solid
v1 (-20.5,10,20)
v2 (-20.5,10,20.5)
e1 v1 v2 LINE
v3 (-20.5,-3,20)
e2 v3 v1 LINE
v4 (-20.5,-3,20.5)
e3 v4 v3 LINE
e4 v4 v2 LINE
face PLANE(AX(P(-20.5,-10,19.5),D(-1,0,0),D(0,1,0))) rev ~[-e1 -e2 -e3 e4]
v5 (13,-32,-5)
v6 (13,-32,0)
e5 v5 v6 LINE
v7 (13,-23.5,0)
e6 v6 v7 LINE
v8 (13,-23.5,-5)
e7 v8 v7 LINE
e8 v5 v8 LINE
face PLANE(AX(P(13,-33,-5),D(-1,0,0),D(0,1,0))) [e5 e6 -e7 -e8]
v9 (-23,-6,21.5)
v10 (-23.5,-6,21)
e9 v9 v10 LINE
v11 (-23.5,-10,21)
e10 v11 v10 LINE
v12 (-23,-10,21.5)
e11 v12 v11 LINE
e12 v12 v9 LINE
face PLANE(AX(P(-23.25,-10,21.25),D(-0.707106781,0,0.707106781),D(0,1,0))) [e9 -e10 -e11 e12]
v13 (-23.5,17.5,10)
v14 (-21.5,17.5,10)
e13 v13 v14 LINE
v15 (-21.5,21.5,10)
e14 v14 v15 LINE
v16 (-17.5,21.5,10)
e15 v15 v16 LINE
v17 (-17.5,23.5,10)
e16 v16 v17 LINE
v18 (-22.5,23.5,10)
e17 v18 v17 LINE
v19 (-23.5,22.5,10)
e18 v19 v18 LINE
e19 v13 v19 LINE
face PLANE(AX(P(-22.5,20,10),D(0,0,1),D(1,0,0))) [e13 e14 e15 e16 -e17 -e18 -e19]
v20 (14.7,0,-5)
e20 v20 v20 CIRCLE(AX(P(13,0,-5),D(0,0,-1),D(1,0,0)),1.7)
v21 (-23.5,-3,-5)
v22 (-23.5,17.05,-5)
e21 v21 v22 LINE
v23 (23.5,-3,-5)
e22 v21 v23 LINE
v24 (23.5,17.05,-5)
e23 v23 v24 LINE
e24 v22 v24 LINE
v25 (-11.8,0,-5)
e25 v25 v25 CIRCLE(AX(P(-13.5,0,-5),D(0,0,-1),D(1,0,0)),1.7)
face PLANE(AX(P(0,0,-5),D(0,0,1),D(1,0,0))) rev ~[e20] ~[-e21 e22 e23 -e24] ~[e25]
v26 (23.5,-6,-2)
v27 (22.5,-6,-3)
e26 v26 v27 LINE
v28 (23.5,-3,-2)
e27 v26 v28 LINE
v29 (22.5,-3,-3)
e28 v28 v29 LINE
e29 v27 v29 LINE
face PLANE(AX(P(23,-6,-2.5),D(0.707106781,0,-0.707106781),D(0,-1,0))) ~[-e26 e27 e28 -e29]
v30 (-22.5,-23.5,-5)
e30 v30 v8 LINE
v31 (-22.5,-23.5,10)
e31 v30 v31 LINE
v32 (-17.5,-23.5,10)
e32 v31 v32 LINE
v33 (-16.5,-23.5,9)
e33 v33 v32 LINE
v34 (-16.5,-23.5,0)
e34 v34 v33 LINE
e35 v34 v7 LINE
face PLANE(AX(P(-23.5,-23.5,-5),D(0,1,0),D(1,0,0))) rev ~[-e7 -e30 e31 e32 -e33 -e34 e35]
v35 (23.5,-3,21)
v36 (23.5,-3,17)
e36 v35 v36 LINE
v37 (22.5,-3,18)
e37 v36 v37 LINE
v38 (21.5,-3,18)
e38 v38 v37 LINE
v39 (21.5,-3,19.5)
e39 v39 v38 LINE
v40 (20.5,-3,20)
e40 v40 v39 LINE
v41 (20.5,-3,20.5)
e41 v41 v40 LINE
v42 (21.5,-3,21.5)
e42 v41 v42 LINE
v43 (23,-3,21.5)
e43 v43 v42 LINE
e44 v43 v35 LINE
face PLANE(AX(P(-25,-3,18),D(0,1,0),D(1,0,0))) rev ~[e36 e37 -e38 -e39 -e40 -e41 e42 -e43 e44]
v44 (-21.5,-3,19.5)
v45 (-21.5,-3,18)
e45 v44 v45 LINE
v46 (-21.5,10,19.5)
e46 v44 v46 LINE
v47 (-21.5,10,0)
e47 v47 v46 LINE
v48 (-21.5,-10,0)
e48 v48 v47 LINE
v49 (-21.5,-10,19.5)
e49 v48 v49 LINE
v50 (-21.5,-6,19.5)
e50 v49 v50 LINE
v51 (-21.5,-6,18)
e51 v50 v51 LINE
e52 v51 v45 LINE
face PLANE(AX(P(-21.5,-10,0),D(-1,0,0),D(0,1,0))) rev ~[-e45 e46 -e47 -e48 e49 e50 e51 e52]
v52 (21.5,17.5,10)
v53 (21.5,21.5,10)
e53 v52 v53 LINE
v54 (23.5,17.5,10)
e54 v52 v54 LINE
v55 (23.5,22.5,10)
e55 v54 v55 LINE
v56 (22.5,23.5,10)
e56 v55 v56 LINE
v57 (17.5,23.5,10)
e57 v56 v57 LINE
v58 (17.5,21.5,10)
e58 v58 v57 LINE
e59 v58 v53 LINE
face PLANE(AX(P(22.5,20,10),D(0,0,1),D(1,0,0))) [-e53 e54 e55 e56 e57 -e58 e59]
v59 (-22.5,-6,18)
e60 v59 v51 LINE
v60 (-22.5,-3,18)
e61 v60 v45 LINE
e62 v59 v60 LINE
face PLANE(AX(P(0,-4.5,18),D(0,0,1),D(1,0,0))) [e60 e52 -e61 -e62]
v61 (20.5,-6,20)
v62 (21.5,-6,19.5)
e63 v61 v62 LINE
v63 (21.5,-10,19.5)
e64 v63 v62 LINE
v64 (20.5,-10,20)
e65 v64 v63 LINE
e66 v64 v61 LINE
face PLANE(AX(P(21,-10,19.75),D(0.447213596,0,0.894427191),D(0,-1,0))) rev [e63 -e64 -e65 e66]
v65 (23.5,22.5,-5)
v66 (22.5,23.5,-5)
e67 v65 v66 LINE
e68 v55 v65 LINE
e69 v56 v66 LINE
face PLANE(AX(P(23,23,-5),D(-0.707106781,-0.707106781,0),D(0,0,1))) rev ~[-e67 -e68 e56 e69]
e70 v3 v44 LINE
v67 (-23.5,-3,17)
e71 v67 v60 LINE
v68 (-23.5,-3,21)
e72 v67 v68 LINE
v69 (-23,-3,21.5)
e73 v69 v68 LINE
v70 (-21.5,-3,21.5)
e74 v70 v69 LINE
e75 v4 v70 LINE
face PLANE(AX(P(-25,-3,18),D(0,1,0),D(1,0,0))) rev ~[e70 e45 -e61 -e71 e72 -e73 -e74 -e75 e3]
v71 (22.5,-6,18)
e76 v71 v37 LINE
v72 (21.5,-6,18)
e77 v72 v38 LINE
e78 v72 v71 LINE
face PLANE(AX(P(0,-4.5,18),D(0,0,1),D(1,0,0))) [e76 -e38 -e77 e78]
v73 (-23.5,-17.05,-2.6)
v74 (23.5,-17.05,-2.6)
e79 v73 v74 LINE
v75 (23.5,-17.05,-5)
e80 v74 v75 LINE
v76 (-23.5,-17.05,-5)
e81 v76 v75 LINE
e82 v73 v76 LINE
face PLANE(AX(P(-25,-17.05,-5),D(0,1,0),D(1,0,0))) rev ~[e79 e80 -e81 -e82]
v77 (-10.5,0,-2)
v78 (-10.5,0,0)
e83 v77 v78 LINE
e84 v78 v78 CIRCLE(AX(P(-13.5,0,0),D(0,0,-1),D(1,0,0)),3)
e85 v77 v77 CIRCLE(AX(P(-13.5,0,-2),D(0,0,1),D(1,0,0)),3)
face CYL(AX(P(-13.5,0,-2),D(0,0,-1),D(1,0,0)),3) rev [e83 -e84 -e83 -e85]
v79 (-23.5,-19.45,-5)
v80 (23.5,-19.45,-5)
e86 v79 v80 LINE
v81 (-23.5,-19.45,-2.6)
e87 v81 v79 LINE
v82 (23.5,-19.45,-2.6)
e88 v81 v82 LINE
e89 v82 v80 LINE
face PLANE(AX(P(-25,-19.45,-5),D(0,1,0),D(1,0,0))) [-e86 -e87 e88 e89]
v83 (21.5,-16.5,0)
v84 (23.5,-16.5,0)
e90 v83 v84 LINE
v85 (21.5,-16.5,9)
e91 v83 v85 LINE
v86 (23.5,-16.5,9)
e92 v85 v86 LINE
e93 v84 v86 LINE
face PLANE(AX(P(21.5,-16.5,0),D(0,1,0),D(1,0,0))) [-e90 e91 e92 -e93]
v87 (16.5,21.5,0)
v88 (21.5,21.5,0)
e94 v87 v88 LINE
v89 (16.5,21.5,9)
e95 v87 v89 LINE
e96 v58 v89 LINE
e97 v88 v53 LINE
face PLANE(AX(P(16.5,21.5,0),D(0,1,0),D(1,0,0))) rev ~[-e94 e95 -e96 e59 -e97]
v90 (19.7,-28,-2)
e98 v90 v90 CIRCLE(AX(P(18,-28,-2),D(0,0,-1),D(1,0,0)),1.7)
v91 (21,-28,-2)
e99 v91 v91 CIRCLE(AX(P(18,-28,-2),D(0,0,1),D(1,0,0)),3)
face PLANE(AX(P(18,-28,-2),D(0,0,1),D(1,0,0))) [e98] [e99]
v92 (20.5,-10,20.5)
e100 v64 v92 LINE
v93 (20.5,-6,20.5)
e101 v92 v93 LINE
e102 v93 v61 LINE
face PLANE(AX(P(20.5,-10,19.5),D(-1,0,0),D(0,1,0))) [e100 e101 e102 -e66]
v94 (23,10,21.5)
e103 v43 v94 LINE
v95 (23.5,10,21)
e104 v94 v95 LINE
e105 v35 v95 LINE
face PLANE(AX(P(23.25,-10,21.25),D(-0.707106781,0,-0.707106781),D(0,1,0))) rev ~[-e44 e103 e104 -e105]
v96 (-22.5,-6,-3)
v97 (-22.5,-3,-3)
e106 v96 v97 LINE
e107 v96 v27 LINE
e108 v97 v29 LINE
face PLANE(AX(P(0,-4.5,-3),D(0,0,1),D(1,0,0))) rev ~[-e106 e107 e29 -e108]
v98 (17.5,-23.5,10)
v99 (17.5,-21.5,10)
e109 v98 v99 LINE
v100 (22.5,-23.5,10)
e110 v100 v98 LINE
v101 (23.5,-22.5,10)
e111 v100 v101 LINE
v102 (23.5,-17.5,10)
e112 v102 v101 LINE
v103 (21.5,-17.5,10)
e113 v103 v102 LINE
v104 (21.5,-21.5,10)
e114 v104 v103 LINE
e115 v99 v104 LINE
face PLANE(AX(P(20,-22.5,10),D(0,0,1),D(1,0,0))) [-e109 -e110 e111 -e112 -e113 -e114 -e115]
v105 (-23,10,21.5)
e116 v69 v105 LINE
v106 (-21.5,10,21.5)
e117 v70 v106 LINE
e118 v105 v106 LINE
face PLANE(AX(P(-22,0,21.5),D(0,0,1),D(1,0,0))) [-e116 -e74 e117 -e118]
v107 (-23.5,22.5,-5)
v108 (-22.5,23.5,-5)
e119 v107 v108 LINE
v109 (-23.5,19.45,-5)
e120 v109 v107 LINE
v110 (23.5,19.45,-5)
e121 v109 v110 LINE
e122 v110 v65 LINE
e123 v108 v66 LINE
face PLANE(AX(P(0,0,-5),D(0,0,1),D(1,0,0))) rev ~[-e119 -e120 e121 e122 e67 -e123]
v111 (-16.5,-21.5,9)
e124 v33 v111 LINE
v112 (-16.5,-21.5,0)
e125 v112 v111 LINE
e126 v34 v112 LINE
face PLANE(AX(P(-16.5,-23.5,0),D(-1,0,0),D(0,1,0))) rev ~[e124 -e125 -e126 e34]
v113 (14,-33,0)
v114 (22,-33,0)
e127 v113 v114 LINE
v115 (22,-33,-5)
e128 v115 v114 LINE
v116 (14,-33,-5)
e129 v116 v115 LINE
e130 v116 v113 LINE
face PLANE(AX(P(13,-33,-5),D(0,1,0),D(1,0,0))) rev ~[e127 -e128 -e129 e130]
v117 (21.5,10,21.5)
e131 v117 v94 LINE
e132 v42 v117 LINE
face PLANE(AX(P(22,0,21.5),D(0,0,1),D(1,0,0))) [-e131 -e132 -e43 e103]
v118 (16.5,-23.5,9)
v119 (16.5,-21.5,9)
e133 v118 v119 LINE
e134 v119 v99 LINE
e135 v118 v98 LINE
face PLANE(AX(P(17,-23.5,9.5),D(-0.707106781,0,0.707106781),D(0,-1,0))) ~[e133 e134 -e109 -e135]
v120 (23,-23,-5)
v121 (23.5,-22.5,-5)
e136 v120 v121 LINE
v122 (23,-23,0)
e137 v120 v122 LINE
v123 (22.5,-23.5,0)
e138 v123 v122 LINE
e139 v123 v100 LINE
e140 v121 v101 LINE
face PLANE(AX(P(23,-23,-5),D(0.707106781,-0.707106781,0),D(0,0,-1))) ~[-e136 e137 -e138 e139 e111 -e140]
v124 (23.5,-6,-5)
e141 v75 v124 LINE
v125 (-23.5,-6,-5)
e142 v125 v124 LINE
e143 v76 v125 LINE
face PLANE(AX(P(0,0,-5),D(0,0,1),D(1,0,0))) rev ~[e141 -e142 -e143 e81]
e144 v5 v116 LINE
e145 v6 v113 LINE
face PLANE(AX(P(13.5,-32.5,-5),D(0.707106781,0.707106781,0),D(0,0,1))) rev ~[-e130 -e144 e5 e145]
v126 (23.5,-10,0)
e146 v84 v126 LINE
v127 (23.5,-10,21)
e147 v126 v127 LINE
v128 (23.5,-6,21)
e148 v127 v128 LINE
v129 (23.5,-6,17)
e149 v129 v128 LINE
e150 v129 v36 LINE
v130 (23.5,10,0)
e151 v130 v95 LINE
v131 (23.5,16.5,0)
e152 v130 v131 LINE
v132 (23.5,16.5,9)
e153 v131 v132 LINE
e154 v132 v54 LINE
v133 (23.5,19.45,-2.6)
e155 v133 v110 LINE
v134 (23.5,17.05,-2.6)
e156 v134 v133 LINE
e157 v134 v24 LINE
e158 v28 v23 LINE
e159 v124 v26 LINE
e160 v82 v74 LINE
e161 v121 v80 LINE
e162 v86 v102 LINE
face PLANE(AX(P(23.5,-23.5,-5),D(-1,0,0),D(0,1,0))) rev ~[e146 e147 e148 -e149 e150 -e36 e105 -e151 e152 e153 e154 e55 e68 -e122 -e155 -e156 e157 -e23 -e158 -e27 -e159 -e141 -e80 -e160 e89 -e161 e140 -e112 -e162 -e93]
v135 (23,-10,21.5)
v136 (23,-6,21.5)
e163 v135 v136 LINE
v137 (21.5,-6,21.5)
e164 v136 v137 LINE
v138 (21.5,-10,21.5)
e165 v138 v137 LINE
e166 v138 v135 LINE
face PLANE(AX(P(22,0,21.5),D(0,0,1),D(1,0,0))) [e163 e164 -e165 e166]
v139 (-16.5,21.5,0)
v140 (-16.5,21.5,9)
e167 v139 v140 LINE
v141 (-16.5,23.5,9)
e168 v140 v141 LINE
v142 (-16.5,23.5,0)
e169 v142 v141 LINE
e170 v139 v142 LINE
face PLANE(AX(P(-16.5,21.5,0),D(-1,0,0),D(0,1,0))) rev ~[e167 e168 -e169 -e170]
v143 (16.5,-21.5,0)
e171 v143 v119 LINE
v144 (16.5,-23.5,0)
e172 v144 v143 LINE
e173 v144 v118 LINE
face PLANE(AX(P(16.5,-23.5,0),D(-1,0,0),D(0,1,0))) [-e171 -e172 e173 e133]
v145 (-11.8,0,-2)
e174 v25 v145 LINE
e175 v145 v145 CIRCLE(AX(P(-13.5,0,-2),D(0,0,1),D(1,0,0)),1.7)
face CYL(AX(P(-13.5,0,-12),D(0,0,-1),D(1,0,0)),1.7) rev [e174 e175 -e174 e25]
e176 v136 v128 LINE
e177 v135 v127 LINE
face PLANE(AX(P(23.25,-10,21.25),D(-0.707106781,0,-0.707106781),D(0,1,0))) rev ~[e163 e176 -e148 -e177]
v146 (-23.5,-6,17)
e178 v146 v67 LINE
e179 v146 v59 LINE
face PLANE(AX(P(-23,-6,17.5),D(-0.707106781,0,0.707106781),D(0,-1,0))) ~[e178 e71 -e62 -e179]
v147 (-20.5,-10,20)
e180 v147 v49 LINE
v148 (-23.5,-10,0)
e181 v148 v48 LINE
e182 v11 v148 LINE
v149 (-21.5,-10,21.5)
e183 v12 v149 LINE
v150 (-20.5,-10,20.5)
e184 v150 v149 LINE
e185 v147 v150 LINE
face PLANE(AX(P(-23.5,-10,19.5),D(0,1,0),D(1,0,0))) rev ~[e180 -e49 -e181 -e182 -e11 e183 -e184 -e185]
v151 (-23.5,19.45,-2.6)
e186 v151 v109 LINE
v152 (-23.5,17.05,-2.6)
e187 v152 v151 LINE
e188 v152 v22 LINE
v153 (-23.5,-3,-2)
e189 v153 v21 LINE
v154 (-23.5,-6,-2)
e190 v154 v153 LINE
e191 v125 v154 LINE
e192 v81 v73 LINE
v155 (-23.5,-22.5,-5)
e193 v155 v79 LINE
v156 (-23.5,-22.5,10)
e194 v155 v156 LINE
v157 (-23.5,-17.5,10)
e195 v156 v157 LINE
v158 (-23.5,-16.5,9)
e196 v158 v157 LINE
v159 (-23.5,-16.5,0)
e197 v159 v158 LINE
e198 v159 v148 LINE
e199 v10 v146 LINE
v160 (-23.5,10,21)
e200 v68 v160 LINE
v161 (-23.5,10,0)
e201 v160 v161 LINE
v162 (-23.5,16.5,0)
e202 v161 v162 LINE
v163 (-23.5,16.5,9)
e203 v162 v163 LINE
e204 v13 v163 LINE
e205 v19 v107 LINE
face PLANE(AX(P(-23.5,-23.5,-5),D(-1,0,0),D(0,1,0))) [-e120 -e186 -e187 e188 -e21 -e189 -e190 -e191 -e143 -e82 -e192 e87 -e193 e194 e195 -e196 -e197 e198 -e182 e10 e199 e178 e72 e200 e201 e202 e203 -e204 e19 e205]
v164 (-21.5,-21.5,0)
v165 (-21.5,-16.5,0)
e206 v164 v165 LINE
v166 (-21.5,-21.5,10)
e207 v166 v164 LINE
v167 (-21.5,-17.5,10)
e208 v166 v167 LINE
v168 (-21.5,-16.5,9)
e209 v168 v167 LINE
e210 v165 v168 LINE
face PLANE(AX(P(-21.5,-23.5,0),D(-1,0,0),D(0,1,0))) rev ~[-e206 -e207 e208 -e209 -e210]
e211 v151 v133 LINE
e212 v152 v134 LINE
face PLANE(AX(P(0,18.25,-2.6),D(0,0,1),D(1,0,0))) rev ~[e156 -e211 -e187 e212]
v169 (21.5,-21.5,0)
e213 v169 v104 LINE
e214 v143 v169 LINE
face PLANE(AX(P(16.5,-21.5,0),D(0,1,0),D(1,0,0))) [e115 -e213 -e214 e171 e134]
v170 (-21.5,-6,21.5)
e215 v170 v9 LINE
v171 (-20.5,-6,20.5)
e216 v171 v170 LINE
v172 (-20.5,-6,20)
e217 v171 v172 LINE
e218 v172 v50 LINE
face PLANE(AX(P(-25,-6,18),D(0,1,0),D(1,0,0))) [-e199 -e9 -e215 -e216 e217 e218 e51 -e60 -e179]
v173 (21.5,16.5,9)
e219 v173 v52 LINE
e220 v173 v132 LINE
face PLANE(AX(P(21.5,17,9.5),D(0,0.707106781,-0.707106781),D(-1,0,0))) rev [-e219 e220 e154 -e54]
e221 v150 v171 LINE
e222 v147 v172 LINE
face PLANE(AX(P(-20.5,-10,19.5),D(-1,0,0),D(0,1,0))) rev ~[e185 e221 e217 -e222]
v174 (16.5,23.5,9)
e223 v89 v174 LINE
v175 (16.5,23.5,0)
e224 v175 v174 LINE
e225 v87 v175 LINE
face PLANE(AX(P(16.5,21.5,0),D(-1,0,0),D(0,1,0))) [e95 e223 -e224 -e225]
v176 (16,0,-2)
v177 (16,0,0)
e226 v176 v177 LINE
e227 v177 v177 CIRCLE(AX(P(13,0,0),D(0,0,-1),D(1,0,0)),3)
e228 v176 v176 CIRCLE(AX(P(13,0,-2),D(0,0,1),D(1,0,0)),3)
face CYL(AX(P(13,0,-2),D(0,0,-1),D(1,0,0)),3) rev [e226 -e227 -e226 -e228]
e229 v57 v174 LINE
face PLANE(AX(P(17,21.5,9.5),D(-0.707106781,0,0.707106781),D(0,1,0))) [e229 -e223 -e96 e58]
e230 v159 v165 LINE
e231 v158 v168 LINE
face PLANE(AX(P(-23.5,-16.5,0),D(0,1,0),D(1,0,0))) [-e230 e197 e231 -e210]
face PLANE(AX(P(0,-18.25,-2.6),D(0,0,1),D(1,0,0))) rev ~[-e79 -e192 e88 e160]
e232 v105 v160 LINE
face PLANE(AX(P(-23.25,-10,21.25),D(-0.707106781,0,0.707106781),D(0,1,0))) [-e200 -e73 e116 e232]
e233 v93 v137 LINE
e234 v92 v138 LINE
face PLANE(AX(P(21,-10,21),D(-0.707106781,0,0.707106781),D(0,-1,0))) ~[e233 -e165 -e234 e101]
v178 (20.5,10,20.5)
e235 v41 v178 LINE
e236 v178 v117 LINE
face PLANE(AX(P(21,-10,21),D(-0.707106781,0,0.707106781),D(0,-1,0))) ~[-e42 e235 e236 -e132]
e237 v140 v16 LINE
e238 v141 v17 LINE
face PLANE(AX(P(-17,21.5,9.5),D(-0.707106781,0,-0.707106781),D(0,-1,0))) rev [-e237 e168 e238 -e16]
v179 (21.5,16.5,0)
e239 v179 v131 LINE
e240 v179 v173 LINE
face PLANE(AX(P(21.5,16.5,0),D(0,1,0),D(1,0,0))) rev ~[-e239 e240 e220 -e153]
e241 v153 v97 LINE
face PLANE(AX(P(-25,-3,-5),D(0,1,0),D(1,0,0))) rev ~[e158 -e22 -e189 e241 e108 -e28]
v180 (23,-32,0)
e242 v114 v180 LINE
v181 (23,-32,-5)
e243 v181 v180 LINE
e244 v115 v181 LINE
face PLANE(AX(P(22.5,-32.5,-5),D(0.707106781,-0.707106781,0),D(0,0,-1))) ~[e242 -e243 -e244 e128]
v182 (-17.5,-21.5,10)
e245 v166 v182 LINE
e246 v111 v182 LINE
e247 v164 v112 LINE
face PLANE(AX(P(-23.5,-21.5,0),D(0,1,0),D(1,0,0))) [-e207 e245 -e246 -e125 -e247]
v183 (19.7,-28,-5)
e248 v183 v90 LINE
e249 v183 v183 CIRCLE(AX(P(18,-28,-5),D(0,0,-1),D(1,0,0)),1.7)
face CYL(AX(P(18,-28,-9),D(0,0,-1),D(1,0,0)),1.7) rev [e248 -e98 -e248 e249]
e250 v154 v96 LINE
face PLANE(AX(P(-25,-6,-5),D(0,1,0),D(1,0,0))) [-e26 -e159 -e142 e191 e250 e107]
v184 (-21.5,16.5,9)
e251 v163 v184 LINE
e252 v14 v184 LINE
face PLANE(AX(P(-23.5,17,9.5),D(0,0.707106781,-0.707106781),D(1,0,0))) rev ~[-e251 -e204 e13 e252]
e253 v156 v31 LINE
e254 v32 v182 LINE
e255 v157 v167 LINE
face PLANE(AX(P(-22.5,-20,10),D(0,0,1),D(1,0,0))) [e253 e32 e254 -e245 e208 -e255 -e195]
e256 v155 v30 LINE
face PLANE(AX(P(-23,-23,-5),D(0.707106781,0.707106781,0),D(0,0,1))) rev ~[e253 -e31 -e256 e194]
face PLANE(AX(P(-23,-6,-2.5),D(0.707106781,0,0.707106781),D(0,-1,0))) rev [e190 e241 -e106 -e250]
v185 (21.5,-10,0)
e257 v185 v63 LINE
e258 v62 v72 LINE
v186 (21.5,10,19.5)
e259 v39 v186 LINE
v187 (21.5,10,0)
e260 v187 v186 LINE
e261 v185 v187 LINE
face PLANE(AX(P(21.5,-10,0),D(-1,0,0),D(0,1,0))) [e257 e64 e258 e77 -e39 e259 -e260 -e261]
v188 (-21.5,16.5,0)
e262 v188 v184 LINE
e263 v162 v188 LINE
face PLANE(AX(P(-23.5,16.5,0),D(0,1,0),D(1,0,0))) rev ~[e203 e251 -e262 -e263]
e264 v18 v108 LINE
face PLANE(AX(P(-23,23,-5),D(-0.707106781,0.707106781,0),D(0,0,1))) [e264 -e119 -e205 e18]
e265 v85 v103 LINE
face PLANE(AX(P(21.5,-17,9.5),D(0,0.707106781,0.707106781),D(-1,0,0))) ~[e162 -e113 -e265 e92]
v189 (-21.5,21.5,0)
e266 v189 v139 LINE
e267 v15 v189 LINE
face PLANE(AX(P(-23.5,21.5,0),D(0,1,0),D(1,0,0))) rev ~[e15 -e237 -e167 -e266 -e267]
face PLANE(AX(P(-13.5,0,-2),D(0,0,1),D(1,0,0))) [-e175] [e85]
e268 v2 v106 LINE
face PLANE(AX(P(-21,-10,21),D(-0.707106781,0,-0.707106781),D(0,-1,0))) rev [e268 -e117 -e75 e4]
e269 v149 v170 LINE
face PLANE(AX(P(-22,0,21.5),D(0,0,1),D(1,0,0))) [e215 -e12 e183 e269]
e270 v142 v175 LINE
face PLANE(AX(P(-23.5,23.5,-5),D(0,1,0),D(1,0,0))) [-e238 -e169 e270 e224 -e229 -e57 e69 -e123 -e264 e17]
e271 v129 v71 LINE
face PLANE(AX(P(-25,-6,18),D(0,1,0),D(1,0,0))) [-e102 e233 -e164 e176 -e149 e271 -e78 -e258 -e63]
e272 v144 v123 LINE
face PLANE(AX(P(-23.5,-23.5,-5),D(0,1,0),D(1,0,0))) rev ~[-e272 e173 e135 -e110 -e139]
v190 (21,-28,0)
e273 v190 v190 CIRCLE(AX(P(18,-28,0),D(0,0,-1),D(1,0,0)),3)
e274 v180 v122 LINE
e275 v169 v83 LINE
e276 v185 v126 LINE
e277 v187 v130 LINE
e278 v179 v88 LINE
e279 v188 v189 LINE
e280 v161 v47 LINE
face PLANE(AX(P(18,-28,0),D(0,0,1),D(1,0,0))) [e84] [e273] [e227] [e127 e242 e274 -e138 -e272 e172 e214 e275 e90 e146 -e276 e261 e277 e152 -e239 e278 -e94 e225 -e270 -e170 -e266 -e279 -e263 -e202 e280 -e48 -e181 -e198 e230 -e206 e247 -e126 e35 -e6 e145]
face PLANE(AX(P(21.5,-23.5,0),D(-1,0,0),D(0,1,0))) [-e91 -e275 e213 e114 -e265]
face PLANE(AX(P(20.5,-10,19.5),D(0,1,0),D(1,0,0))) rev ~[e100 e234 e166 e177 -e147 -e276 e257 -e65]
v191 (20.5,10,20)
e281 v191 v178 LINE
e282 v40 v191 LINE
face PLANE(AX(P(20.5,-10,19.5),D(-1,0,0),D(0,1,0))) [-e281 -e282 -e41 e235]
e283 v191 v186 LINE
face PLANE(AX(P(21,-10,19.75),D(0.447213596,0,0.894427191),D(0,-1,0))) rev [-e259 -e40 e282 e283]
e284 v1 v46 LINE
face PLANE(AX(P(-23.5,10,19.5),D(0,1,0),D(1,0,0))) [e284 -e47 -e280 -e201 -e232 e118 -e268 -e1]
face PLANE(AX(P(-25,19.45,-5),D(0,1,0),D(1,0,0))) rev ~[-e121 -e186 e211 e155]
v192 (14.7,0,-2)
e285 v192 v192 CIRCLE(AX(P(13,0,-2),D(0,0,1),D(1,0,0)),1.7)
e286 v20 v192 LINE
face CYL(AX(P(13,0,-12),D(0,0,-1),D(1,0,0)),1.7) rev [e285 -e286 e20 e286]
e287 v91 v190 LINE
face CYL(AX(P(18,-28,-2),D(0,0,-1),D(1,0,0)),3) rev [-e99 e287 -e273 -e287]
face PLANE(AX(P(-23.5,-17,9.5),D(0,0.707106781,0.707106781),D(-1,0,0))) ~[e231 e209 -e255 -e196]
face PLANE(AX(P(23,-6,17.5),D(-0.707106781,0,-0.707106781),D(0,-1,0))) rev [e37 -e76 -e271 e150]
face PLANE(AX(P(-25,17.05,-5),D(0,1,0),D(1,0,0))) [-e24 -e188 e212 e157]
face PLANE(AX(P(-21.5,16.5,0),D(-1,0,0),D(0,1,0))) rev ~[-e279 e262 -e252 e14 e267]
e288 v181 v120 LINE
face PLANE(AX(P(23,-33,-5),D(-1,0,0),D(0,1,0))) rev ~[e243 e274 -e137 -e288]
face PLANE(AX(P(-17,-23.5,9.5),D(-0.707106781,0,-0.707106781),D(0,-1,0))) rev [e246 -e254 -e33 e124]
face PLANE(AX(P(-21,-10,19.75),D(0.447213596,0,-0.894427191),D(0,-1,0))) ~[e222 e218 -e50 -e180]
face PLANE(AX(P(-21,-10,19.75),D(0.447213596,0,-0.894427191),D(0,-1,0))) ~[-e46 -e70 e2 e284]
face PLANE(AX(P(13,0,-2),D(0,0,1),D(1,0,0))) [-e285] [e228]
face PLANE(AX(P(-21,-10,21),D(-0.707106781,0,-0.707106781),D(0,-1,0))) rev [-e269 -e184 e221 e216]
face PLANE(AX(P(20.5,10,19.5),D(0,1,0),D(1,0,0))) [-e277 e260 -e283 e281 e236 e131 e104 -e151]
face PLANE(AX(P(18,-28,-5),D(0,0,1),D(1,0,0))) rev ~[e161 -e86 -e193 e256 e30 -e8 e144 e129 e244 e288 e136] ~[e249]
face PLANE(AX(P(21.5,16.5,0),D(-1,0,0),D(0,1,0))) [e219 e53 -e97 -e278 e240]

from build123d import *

# Parameters (mm, degrees)
BOX025_W           = 50
BOX025_H           = 3
BOX025_DEPTH       = 5
BOX024_W           = 50
BOX024_H           = 3
BOX024_DEPTH       = 2
CYLINDER004_R      = 3
CYLINDER004_DEPTH  = 10
CYLINDER005_R      = 1.7
CYLINDER005_DEPTH  = 10
BOX016_W           = 10
BOX016_H           = 10
BOX016_DEPTH       = 5
CHAMFER012_SIZE    = 1
BOX015_W           = 50
BOX015_H           = 2.4
BOX015_DEPTH       = 2.4
BOX014_W           = 50
BOX014_H           = 2.4
BOX014_DEPTH       = 2.4
BOX012_W           = 3
BOX012_H           = 20
BOX012_DEPTH       = 2
CHAMFER001_SIZE    = 1
CHAMFER003_SIZE2   = 1
CHAMFER003_SIZE    = 0.5
CHAMFER005_SIZE    = 0.5
BOX010_W           = 2
BOX010_H           = 20
BOX010_DEPTH       = 20
BOX001_W           = 7
BOX001_H           = 2
BOX001_DEPTH       = 10
BOX008_W           = 2
BOX008_H           = 7
BOX008_DEPTH       = 10
CHAMFER006_SIZE    = 1
BOX003_W           = 7
BOX003_H           = 2
BOX003_DEPTH       = 10
BOX005_W           = 2
BOX005_H           = 7
BOX005_DEPTH       = 10
CHAMFER007_SIZE    = 1
BOX006_W           = 2
BOX006_H           = 7
BOX006_DEPTH       = 10
BOX004_W           = 7
BOX004_H           = 2
BOX004_DEPTH       = 10
CHAMFER008_SIZE    = 1
BOX007_W           = 2
BOX007_H           = 7
BOX007_DEPTH       = 10
BOX002_W           = 7
BOX002_H           = 2
BOX002_DEPTH       = 10
CHAMFER009_SIZE    = 1
CYLINDER002_R      = 1.7
CYLINDER002_DEPTH  = 10
CYLINDER003_R      = 1.7
CYLINDER003_DEPTH  = 10
CYLINDER_R         = 3
CYLINDER_DEPTH     = 10
CYLINDER001_R      = 3
CYLINDER001_DEPTH  = 10
BOX013_W           = 47
BOX013_H           = 47
BOX013_DEPTH       = 5
CHAMFER010_SIZE    = 1
BOX011_W           = 3
BOX011_H           = 20
BOX011_DEPTH       = 2
CHAMFER_SIZE       = 1
CHAMFER002_SIZE2   = 1
CHAMFER002_SIZE    = 0.5
CHAMFER004_SIZE    = 0.5
BOX009_W           = 2
BOX009_H           = 20
BOX009_DEPTH       = 20
CHAMFER011_SIZE    = 1
CHAMFER005006_SIZE = 1
CHAMFER005007_SIZE = 1


with BuildPart() as cube024:
    # Box025 → Box025 (new body)
    with BuildSketch(Plane(origin=(-25, -6, 18), x_dir=(1, 0, 0), z_dir=(0, 0, 1))):
        with Locations((25, 1.5)):
            Rectangle(BOX025_W, BOX025_H)
    extrude(amount=BOX025_DEPTH)


with BuildPart() as cube023:
    # Box024 → Box024 (new body)
    with BuildSketch(Plane(origin=(-25, -6, -5), x_dir=(1, 0, 0), z_dir=(0, 0, 1))):
        with Locations((25, 1.5)):
            Rectangle(BOX024_W, BOX024_H)
    extrude(amount=BOX024_DEPTH)


with BuildPart() as cylinder004:
    # Cylinder004 → Cylinder004 (new body)
    with BuildSketch(Plane(origin=(18, -28, 0), x_dir=(1, 0, 0), z_dir=(0, 0, 1))):
        Circle(CYLINDER004_R)
    extrude(amount=CYLINDER004_DEPTH)


with BuildPart() as fusion012:
    # Cylinder005 → Cylinder005 (new body)
    with BuildSketch(Plane(origin=(18, -28, -7), x_dir=(1, 0, 0), z_dir=(0, 0, 1))):
        Circle(CYLINDER005_R)
    extrude(amount=CYLINDER005_DEPTH)

    # Fusion012: union Cylinder004
    add(cylinder004.part)


with BuildPart() as fusion012_1:
    # Fusion012 placement: moved
    add(fusion012.part.moved(Location((0, 0, -2))))


with BuildPart() as chamfer012:
    # Box016 → Box016 (new body)
    with BuildSketch(Plane(origin=(13, -33, -5), x_dir=(1, 0, 0), z_dir=(0, 0, 1))):
        with Locations((5, 5)):
            Rectangle(BOX016_W, BOX016_H)
    extrude(amount=BOX016_DEPTH)

    # Cut003004: cut Fusion012
    add(fusion012_1.part, mode=Mode.SUBTRACT)

    # Chamfer012
    chamfer012_edges = [chamfer012.edges().sort_by_distance(p)[0] for p in [
        (13, -33, -2.5),
        (23, -33, -2.5),
    ]]
    chamfer(chamfer012_edges, length=CHAMFER012_SIZE)


with BuildPart() as cube014:
    # Box015 → Box015 (new body)
    with BuildSketch(Plane(origin=(-25, 17.05, -5), x_dir=(1, 0, 0), z_dir=(0, 0, 1))):
        with Locations((25, 1.2)):
            Rectangle(BOX015_W, BOX015_H)
    extrude(amount=BOX015_DEPTH)


with BuildPart() as fusion011:
    # Box014 → Box014 (new body)
    with BuildSketch(Plane(origin=(-25, -19.45, -5), x_dir=(1, 0, 0), z_dir=(0, 0, 1))):
        with Locations((25, 1.2)):
            Rectangle(BOX014_W, BOX014_H)
    extrude(amount=BOX014_DEPTH)

    # Fusion011: union Cube014
    add(cube014.part)


with BuildPart() as chamfer005:
    # Box012 → Box012 (new body)
    with BuildSketch(Plane(origin=(20.5, -10, 19.5), x_dir=(1, 0, 0), z_dir=(0, 0, 1))):
        with Locations((1.5, 10)):
            Rectangle(BOX012_W, BOX012_H)
    extrude(amount=BOX012_DEPTH)

    # Chamfer001
    chamfer001_edges = [chamfer005.edges().sort_by_distance(p)[0] for p in [
        (20.5, 0, 21.5),
    ]]
    chamfer(chamfer001_edges, length=CHAMFER001_SIZE)

    # Chamfer003
    chamfer003_edges = [chamfer005.edges().sort_by_distance(p)[0] for p in [
        (20.5, 0, 19.5),
    ]]
    chamfer003_side = chamfer005.faces().sort_by_distance((20.5, 0, 20))[0]
    chamfer(chamfer003_edges, length=CHAMFER003_SIZE, length2=CHAMFER003_SIZE2, reference=chamfer003_side)

    # Chamfer005
    chamfer005_edges = [chamfer005.edges().sort_by_distance(p)[0] for p in [
        (23.5, 0, 21.5),
    ]]
    chamfer(chamfer005_edges, length=CHAMFER005_SIZE)


with BuildPart() as fusion001:
    # Box010 → Box010 (new body)
    with BuildSketch(Plane(origin=(21.5, -10, 0), x_dir=(1, 0, 0), z_dir=(0, 0, 1))):
        with Locations((1, 10)):
            Rectangle(BOX010_W, BOX010_H)
    extrude(amount=BOX010_DEPTH)

    # Fusion001: union Chamfer005
    add(chamfer005.part)


with BuildPart() as cube:
    # Box001 → Box001 (new body)
    with BuildSketch(Plane(origin=(-23.5, 21.5, 0), x_dir=(1, 0, 0), z_dir=(0, 0, 1))):
        with Locations((3.5, 1)):
            Rectangle(BOX001_W, BOX001_H)
    extrude(amount=BOX001_DEPTH)


with BuildPart() as chamfer006:
    # Box008 → Box008 (new body)
    with BuildSketch(Plane(origin=(-23.5, 16.5, 0), x_dir=(1, 0, 0), z_dir=(0, 0, 1))):
        with Locations((1, 3.5)):
            Rectangle(BOX008_W, BOX008_H)
    extrude(amount=BOX008_DEPTH)

    # Fusion002: union Cube
    add(cube.part)

    # Chamfer006
    chamfer006_edges = [chamfer006.edges().sort_by_distance(p)[0] for p in [
        (-23.5, 23.5, 5),
    ]]
    chamfer(chamfer006_edges, length=CHAMFER006_SIZE)


with BuildPart() as cube002:
    # Box003 → Box003 (new body)
    with BuildSketch(Plane(origin=(-23.5, -23.5, 0), x_dir=(1, 0, 0), z_dir=(0, 0, 1))):
        with Locations((3.5, 1)):
            Rectangle(BOX003_W, BOX003_H)
    extrude(amount=BOX003_DEPTH)


with BuildPart() as chamfer007:
    # Box005 → Box005 (new body)
    with BuildSketch(Plane(origin=(-23.5, -23.5, 0), x_dir=(1, 0, 0), z_dir=(0, 0, 1))):
        with Locations((1, 3.5)):
            Rectangle(BOX005_W, BOX005_H)
    extrude(amount=BOX005_DEPTH)

    # Fusion004: union Cube002
    add(cube002.part)

    # Chamfer007
    chamfer007_edges = [chamfer007.edges().sort_by_distance(p)[0] for p in [
        (-23.5, -23.5, 5),
    ]]
    chamfer(chamfer007_edges, length=CHAMFER007_SIZE)


with BuildPart() as cube005:
    # Box006 → Box006 (new body)
    with BuildSketch(Plane(origin=(21.5, -23.5, 0), x_dir=(1, 0, 0), z_dir=(0, 0, 1))):
        with Locations((1, 3.5)):
            Rectangle(BOX006_W, BOX006_H)
    extrude(amount=BOX006_DEPTH)


with BuildPart() as chamfer008:
    # Box004 → Box004 (new body)
    with BuildSketch(Plane(origin=(16.5, -23.5, 0), x_dir=(1, 0, 0), z_dir=(0, 0, 1))):
        with Locations((3.5, 1)):
            Rectangle(BOX004_W, BOX004_H)
    extrude(amount=BOX004_DEPTH)

    # Fusion005: union Cube005
    add(cube005.part)

    # Chamfer008
    chamfer008_edges = [chamfer008.edges().sort_by_distance(p)[0] for p in [
        (23.5, -23.5, 5),
    ]]
    chamfer(chamfer008_edges, length=CHAMFER008_SIZE)


with BuildPart() as cube006:
    # Box007 → Box007 (new body)
    with BuildSketch(Plane(origin=(21.5, 16.5, 0), x_dir=(1, 0, 0), z_dir=(0, 0, 1))):
        with Locations((1, 3.5)):
            Rectangle(BOX007_W, BOX007_H)
    extrude(amount=BOX007_DEPTH)


with BuildPart() as chamfer009:
    # Box002 → Box002 (new body)
    with BuildSketch(Plane(origin=(16.5, 21.5, 0), x_dir=(1, 0, 0), z_dir=(0, 0, 1))):
        with Locations((3.5, 1)):
            Rectangle(BOX002_W, BOX002_H)
    extrude(amount=BOX002_DEPTH)

    # Fusion003: union Cube006
    add(cube006.part)

    # Chamfer009
    chamfer009_edges = [chamfer009.edges().sort_by_distance(p)[0] for p in [
        (23.5, 23.5, 5),
    ]]
    chamfer(chamfer009_edges, length=CHAMFER009_SIZE)


with BuildPart() as cylinder002:
    # Cylinder002 → Cylinder002 (new body)
    with BuildSketch(Plane(origin=(13, 0, 0), x_dir=(1, 0, 0), z_dir=(0, 0, 1))):
        Circle(CYLINDER002_R)
    extrude(amount=CYLINDER002_DEPTH)


with BuildPart() as fusion007:
    # Cylinder003 → Cylinder003 (new body)
    with BuildSketch(Plane(origin=(-13.5, 0, 0), x_dir=(1, 0, 0), z_dir=(0, 0, 1))):
        Circle(CYLINDER003_R)
    extrude(amount=CYLINDER003_DEPTH)

    # Fusion007: union Cylinder002
    add(cylinder002.part)


with BuildPart() as cylinder:
    # Cylinder → Cylinder (new body)
    with BuildSketch(Plane(origin=(-13.5, 0, 0), x_dir=(1, 0, 0), z_dir=(0, 0, 1))):
        Circle(CYLINDER_R)
    extrude(amount=CYLINDER_DEPTH)


with BuildPart() as fusion009:
    # Cylinder001 → Cylinder001 (new body)
    with BuildSketch(Plane(origin=(13, 0, 0), x_dir=(1, 0, 0), z_dir=(0, 0, 1))):
        Circle(CYLINDER001_R)
    extrude(amount=CYLINDER001_DEPTH)

    # Fusion008: union Cylinder
    add(cylinder.part)


with BuildPart() as fusion009_1:
    # Fusion008 placement: moved
    add(fusion009.part.moved(Location((0, 0, 10))))

    # Fusion009: union Fusion007
    add(fusion007.part)


with BuildPart() as fusion009_2:
    # Fusion009 placement: moved
    add(fusion009_1.part.moved(Location((0, 0, -12))))


with BuildPart() as cut:
    # Box013 → Box013 (new body)
    with BuildSketch(Plane(origin=(-23.5, -23.5, -5), x_dir=(1, 0, 0), z_dir=(0, 0, 1))):
        with Locations((23.5, 23.5)):
            Rectangle(BOX013_W, BOX013_H)
    extrude(amount=BOX013_DEPTH)

    # Chamfer010
    chamfer010_edges = [cut.edges().sort_by_distance(p)[0] for p in [
        (-23.5, -23.5, -2.5),
        (-23.5, 23.5, -2.5),
        (23.5, -23.5, -2.5),
        (23.5, 23.5, -2.5),
    ]]
    chamfer(chamfer010_edges, length=CHAMFER010_SIZE)

    # Cut: cut Fusion009
    add(fusion009_2.part, mode=Mode.SUBTRACT)


with BuildPart() as chamfer004:
    # Box011 → Box011 (new body)
    with BuildSketch(Plane(origin=(-23.5, -10, 19.5), x_dir=(1, 0, 0), z_dir=(0, 0, 1))):
        with Locations((1.5, 10)):
            Rectangle(BOX011_W, BOX011_H)
    extrude(amount=BOX011_DEPTH)

    # Chamfer
    chamfer_edges = [chamfer004.edges().sort_by_distance(p)[0] for p in [
        (-20.5, 0, 21.5),
    ]]
    chamfer(chamfer_edges, length=CHAMFER_SIZE)

    # Chamfer002
    chamfer002_edges = [chamfer004.edges().sort_by_distance(p)[0] for p in [
        (-20.5, 0, 19.5),
    ]]
    chamfer002_side = chamfer004.faces().sort_by_distance((-20.5, 0, 20))[0]
    chamfer(chamfer002_edges, length=CHAMFER002_SIZE, length2=CHAMFER002_SIZE2, reference=chamfer002_side)

    # Chamfer004
    chamfer004_edges = [chamfer004.edges().sort_by_distance(p)[0] for p in [
        (-23.5, 0, 21.5),
    ]]
    chamfer(chamfer004_edges, length=CHAMFER004_SIZE)


with BuildPart() as sonoff_r1_f1:
    # Box009 → Box009 (new body)
    with BuildSketch(Plane(origin=(-23.5, -10, 0), x_dir=(1, 0, 0), z_dir=(0, 0, 1))):
        with Locations((1, 10)):
            Rectangle(BOX009_W, BOX009_H)
    extrude(amount=BOX009_DEPTH)

    # Fusion: union Chamfer004
    add(chamfer004.part)

    # Fusion010: union Fusion001, Chamfer006, Chamfer007, Chamfer008, Chamfer009, Cut
    add(fusion001.part)
    add(chamfer006.part)
    add(chamfer007.part)
    add(chamfer008.part)
    add(chamfer009.part)
    add(cut.part)

    # Chamfer011
    chamfer011_edges = [sonoff_r1_f1.edges().sort_by_distance(p)[0] for p in [
        (-22.5, 16.5, 10),
        (-16.5, 22.5, 10),
        (-22.5, -16.5, 10),
        (16.5, 22.5, 10),
        (22.5, 16.5, 10),
        (22.5, -16.5, 10),
        (16.5, -22.5, 10),
        (-16.5, -22.5, 10),
    ]]
    chamfer(chamfer011_edges, length=CHAMFER011_SIZE)

    # Cut003003: cut Fusion011
    add(fusion011.part, mode=Mode.SUBTRACT)

    # Fusion013: union Chamfer012
    add(chamfer012.part)

    # Cut003010: cut Cube023
    add(cube023.part, mode=Mode.SUBTRACT)

    # Chamfer005006
    chamfer005006_edges = [sonoff_r1_f1.edges().sort_by_distance(p)[0] for p in [
        (-23.5, -4.5, -3),
        (23.5, -4.5, -3),
    ]]
    chamfer(chamfer005006_edges, length=CHAMFER005006_SIZE)

    # Cut003011: cut Cube024
    add(cube024.part, mode=Mode.SUBTRACT)

    # Chamfer005007
    chamfer005007_edges = [sonoff_r1_f1.edges().sort_by_distance(p)[0] for p in [
        (-23.5, -4.5, 18),
        (23.5, -4.5, 18),
    ]]
    chamfer(chamfer005007_edges, length=CHAMFER005007_SIZE)


solid = sonoff_r1_f1.part
